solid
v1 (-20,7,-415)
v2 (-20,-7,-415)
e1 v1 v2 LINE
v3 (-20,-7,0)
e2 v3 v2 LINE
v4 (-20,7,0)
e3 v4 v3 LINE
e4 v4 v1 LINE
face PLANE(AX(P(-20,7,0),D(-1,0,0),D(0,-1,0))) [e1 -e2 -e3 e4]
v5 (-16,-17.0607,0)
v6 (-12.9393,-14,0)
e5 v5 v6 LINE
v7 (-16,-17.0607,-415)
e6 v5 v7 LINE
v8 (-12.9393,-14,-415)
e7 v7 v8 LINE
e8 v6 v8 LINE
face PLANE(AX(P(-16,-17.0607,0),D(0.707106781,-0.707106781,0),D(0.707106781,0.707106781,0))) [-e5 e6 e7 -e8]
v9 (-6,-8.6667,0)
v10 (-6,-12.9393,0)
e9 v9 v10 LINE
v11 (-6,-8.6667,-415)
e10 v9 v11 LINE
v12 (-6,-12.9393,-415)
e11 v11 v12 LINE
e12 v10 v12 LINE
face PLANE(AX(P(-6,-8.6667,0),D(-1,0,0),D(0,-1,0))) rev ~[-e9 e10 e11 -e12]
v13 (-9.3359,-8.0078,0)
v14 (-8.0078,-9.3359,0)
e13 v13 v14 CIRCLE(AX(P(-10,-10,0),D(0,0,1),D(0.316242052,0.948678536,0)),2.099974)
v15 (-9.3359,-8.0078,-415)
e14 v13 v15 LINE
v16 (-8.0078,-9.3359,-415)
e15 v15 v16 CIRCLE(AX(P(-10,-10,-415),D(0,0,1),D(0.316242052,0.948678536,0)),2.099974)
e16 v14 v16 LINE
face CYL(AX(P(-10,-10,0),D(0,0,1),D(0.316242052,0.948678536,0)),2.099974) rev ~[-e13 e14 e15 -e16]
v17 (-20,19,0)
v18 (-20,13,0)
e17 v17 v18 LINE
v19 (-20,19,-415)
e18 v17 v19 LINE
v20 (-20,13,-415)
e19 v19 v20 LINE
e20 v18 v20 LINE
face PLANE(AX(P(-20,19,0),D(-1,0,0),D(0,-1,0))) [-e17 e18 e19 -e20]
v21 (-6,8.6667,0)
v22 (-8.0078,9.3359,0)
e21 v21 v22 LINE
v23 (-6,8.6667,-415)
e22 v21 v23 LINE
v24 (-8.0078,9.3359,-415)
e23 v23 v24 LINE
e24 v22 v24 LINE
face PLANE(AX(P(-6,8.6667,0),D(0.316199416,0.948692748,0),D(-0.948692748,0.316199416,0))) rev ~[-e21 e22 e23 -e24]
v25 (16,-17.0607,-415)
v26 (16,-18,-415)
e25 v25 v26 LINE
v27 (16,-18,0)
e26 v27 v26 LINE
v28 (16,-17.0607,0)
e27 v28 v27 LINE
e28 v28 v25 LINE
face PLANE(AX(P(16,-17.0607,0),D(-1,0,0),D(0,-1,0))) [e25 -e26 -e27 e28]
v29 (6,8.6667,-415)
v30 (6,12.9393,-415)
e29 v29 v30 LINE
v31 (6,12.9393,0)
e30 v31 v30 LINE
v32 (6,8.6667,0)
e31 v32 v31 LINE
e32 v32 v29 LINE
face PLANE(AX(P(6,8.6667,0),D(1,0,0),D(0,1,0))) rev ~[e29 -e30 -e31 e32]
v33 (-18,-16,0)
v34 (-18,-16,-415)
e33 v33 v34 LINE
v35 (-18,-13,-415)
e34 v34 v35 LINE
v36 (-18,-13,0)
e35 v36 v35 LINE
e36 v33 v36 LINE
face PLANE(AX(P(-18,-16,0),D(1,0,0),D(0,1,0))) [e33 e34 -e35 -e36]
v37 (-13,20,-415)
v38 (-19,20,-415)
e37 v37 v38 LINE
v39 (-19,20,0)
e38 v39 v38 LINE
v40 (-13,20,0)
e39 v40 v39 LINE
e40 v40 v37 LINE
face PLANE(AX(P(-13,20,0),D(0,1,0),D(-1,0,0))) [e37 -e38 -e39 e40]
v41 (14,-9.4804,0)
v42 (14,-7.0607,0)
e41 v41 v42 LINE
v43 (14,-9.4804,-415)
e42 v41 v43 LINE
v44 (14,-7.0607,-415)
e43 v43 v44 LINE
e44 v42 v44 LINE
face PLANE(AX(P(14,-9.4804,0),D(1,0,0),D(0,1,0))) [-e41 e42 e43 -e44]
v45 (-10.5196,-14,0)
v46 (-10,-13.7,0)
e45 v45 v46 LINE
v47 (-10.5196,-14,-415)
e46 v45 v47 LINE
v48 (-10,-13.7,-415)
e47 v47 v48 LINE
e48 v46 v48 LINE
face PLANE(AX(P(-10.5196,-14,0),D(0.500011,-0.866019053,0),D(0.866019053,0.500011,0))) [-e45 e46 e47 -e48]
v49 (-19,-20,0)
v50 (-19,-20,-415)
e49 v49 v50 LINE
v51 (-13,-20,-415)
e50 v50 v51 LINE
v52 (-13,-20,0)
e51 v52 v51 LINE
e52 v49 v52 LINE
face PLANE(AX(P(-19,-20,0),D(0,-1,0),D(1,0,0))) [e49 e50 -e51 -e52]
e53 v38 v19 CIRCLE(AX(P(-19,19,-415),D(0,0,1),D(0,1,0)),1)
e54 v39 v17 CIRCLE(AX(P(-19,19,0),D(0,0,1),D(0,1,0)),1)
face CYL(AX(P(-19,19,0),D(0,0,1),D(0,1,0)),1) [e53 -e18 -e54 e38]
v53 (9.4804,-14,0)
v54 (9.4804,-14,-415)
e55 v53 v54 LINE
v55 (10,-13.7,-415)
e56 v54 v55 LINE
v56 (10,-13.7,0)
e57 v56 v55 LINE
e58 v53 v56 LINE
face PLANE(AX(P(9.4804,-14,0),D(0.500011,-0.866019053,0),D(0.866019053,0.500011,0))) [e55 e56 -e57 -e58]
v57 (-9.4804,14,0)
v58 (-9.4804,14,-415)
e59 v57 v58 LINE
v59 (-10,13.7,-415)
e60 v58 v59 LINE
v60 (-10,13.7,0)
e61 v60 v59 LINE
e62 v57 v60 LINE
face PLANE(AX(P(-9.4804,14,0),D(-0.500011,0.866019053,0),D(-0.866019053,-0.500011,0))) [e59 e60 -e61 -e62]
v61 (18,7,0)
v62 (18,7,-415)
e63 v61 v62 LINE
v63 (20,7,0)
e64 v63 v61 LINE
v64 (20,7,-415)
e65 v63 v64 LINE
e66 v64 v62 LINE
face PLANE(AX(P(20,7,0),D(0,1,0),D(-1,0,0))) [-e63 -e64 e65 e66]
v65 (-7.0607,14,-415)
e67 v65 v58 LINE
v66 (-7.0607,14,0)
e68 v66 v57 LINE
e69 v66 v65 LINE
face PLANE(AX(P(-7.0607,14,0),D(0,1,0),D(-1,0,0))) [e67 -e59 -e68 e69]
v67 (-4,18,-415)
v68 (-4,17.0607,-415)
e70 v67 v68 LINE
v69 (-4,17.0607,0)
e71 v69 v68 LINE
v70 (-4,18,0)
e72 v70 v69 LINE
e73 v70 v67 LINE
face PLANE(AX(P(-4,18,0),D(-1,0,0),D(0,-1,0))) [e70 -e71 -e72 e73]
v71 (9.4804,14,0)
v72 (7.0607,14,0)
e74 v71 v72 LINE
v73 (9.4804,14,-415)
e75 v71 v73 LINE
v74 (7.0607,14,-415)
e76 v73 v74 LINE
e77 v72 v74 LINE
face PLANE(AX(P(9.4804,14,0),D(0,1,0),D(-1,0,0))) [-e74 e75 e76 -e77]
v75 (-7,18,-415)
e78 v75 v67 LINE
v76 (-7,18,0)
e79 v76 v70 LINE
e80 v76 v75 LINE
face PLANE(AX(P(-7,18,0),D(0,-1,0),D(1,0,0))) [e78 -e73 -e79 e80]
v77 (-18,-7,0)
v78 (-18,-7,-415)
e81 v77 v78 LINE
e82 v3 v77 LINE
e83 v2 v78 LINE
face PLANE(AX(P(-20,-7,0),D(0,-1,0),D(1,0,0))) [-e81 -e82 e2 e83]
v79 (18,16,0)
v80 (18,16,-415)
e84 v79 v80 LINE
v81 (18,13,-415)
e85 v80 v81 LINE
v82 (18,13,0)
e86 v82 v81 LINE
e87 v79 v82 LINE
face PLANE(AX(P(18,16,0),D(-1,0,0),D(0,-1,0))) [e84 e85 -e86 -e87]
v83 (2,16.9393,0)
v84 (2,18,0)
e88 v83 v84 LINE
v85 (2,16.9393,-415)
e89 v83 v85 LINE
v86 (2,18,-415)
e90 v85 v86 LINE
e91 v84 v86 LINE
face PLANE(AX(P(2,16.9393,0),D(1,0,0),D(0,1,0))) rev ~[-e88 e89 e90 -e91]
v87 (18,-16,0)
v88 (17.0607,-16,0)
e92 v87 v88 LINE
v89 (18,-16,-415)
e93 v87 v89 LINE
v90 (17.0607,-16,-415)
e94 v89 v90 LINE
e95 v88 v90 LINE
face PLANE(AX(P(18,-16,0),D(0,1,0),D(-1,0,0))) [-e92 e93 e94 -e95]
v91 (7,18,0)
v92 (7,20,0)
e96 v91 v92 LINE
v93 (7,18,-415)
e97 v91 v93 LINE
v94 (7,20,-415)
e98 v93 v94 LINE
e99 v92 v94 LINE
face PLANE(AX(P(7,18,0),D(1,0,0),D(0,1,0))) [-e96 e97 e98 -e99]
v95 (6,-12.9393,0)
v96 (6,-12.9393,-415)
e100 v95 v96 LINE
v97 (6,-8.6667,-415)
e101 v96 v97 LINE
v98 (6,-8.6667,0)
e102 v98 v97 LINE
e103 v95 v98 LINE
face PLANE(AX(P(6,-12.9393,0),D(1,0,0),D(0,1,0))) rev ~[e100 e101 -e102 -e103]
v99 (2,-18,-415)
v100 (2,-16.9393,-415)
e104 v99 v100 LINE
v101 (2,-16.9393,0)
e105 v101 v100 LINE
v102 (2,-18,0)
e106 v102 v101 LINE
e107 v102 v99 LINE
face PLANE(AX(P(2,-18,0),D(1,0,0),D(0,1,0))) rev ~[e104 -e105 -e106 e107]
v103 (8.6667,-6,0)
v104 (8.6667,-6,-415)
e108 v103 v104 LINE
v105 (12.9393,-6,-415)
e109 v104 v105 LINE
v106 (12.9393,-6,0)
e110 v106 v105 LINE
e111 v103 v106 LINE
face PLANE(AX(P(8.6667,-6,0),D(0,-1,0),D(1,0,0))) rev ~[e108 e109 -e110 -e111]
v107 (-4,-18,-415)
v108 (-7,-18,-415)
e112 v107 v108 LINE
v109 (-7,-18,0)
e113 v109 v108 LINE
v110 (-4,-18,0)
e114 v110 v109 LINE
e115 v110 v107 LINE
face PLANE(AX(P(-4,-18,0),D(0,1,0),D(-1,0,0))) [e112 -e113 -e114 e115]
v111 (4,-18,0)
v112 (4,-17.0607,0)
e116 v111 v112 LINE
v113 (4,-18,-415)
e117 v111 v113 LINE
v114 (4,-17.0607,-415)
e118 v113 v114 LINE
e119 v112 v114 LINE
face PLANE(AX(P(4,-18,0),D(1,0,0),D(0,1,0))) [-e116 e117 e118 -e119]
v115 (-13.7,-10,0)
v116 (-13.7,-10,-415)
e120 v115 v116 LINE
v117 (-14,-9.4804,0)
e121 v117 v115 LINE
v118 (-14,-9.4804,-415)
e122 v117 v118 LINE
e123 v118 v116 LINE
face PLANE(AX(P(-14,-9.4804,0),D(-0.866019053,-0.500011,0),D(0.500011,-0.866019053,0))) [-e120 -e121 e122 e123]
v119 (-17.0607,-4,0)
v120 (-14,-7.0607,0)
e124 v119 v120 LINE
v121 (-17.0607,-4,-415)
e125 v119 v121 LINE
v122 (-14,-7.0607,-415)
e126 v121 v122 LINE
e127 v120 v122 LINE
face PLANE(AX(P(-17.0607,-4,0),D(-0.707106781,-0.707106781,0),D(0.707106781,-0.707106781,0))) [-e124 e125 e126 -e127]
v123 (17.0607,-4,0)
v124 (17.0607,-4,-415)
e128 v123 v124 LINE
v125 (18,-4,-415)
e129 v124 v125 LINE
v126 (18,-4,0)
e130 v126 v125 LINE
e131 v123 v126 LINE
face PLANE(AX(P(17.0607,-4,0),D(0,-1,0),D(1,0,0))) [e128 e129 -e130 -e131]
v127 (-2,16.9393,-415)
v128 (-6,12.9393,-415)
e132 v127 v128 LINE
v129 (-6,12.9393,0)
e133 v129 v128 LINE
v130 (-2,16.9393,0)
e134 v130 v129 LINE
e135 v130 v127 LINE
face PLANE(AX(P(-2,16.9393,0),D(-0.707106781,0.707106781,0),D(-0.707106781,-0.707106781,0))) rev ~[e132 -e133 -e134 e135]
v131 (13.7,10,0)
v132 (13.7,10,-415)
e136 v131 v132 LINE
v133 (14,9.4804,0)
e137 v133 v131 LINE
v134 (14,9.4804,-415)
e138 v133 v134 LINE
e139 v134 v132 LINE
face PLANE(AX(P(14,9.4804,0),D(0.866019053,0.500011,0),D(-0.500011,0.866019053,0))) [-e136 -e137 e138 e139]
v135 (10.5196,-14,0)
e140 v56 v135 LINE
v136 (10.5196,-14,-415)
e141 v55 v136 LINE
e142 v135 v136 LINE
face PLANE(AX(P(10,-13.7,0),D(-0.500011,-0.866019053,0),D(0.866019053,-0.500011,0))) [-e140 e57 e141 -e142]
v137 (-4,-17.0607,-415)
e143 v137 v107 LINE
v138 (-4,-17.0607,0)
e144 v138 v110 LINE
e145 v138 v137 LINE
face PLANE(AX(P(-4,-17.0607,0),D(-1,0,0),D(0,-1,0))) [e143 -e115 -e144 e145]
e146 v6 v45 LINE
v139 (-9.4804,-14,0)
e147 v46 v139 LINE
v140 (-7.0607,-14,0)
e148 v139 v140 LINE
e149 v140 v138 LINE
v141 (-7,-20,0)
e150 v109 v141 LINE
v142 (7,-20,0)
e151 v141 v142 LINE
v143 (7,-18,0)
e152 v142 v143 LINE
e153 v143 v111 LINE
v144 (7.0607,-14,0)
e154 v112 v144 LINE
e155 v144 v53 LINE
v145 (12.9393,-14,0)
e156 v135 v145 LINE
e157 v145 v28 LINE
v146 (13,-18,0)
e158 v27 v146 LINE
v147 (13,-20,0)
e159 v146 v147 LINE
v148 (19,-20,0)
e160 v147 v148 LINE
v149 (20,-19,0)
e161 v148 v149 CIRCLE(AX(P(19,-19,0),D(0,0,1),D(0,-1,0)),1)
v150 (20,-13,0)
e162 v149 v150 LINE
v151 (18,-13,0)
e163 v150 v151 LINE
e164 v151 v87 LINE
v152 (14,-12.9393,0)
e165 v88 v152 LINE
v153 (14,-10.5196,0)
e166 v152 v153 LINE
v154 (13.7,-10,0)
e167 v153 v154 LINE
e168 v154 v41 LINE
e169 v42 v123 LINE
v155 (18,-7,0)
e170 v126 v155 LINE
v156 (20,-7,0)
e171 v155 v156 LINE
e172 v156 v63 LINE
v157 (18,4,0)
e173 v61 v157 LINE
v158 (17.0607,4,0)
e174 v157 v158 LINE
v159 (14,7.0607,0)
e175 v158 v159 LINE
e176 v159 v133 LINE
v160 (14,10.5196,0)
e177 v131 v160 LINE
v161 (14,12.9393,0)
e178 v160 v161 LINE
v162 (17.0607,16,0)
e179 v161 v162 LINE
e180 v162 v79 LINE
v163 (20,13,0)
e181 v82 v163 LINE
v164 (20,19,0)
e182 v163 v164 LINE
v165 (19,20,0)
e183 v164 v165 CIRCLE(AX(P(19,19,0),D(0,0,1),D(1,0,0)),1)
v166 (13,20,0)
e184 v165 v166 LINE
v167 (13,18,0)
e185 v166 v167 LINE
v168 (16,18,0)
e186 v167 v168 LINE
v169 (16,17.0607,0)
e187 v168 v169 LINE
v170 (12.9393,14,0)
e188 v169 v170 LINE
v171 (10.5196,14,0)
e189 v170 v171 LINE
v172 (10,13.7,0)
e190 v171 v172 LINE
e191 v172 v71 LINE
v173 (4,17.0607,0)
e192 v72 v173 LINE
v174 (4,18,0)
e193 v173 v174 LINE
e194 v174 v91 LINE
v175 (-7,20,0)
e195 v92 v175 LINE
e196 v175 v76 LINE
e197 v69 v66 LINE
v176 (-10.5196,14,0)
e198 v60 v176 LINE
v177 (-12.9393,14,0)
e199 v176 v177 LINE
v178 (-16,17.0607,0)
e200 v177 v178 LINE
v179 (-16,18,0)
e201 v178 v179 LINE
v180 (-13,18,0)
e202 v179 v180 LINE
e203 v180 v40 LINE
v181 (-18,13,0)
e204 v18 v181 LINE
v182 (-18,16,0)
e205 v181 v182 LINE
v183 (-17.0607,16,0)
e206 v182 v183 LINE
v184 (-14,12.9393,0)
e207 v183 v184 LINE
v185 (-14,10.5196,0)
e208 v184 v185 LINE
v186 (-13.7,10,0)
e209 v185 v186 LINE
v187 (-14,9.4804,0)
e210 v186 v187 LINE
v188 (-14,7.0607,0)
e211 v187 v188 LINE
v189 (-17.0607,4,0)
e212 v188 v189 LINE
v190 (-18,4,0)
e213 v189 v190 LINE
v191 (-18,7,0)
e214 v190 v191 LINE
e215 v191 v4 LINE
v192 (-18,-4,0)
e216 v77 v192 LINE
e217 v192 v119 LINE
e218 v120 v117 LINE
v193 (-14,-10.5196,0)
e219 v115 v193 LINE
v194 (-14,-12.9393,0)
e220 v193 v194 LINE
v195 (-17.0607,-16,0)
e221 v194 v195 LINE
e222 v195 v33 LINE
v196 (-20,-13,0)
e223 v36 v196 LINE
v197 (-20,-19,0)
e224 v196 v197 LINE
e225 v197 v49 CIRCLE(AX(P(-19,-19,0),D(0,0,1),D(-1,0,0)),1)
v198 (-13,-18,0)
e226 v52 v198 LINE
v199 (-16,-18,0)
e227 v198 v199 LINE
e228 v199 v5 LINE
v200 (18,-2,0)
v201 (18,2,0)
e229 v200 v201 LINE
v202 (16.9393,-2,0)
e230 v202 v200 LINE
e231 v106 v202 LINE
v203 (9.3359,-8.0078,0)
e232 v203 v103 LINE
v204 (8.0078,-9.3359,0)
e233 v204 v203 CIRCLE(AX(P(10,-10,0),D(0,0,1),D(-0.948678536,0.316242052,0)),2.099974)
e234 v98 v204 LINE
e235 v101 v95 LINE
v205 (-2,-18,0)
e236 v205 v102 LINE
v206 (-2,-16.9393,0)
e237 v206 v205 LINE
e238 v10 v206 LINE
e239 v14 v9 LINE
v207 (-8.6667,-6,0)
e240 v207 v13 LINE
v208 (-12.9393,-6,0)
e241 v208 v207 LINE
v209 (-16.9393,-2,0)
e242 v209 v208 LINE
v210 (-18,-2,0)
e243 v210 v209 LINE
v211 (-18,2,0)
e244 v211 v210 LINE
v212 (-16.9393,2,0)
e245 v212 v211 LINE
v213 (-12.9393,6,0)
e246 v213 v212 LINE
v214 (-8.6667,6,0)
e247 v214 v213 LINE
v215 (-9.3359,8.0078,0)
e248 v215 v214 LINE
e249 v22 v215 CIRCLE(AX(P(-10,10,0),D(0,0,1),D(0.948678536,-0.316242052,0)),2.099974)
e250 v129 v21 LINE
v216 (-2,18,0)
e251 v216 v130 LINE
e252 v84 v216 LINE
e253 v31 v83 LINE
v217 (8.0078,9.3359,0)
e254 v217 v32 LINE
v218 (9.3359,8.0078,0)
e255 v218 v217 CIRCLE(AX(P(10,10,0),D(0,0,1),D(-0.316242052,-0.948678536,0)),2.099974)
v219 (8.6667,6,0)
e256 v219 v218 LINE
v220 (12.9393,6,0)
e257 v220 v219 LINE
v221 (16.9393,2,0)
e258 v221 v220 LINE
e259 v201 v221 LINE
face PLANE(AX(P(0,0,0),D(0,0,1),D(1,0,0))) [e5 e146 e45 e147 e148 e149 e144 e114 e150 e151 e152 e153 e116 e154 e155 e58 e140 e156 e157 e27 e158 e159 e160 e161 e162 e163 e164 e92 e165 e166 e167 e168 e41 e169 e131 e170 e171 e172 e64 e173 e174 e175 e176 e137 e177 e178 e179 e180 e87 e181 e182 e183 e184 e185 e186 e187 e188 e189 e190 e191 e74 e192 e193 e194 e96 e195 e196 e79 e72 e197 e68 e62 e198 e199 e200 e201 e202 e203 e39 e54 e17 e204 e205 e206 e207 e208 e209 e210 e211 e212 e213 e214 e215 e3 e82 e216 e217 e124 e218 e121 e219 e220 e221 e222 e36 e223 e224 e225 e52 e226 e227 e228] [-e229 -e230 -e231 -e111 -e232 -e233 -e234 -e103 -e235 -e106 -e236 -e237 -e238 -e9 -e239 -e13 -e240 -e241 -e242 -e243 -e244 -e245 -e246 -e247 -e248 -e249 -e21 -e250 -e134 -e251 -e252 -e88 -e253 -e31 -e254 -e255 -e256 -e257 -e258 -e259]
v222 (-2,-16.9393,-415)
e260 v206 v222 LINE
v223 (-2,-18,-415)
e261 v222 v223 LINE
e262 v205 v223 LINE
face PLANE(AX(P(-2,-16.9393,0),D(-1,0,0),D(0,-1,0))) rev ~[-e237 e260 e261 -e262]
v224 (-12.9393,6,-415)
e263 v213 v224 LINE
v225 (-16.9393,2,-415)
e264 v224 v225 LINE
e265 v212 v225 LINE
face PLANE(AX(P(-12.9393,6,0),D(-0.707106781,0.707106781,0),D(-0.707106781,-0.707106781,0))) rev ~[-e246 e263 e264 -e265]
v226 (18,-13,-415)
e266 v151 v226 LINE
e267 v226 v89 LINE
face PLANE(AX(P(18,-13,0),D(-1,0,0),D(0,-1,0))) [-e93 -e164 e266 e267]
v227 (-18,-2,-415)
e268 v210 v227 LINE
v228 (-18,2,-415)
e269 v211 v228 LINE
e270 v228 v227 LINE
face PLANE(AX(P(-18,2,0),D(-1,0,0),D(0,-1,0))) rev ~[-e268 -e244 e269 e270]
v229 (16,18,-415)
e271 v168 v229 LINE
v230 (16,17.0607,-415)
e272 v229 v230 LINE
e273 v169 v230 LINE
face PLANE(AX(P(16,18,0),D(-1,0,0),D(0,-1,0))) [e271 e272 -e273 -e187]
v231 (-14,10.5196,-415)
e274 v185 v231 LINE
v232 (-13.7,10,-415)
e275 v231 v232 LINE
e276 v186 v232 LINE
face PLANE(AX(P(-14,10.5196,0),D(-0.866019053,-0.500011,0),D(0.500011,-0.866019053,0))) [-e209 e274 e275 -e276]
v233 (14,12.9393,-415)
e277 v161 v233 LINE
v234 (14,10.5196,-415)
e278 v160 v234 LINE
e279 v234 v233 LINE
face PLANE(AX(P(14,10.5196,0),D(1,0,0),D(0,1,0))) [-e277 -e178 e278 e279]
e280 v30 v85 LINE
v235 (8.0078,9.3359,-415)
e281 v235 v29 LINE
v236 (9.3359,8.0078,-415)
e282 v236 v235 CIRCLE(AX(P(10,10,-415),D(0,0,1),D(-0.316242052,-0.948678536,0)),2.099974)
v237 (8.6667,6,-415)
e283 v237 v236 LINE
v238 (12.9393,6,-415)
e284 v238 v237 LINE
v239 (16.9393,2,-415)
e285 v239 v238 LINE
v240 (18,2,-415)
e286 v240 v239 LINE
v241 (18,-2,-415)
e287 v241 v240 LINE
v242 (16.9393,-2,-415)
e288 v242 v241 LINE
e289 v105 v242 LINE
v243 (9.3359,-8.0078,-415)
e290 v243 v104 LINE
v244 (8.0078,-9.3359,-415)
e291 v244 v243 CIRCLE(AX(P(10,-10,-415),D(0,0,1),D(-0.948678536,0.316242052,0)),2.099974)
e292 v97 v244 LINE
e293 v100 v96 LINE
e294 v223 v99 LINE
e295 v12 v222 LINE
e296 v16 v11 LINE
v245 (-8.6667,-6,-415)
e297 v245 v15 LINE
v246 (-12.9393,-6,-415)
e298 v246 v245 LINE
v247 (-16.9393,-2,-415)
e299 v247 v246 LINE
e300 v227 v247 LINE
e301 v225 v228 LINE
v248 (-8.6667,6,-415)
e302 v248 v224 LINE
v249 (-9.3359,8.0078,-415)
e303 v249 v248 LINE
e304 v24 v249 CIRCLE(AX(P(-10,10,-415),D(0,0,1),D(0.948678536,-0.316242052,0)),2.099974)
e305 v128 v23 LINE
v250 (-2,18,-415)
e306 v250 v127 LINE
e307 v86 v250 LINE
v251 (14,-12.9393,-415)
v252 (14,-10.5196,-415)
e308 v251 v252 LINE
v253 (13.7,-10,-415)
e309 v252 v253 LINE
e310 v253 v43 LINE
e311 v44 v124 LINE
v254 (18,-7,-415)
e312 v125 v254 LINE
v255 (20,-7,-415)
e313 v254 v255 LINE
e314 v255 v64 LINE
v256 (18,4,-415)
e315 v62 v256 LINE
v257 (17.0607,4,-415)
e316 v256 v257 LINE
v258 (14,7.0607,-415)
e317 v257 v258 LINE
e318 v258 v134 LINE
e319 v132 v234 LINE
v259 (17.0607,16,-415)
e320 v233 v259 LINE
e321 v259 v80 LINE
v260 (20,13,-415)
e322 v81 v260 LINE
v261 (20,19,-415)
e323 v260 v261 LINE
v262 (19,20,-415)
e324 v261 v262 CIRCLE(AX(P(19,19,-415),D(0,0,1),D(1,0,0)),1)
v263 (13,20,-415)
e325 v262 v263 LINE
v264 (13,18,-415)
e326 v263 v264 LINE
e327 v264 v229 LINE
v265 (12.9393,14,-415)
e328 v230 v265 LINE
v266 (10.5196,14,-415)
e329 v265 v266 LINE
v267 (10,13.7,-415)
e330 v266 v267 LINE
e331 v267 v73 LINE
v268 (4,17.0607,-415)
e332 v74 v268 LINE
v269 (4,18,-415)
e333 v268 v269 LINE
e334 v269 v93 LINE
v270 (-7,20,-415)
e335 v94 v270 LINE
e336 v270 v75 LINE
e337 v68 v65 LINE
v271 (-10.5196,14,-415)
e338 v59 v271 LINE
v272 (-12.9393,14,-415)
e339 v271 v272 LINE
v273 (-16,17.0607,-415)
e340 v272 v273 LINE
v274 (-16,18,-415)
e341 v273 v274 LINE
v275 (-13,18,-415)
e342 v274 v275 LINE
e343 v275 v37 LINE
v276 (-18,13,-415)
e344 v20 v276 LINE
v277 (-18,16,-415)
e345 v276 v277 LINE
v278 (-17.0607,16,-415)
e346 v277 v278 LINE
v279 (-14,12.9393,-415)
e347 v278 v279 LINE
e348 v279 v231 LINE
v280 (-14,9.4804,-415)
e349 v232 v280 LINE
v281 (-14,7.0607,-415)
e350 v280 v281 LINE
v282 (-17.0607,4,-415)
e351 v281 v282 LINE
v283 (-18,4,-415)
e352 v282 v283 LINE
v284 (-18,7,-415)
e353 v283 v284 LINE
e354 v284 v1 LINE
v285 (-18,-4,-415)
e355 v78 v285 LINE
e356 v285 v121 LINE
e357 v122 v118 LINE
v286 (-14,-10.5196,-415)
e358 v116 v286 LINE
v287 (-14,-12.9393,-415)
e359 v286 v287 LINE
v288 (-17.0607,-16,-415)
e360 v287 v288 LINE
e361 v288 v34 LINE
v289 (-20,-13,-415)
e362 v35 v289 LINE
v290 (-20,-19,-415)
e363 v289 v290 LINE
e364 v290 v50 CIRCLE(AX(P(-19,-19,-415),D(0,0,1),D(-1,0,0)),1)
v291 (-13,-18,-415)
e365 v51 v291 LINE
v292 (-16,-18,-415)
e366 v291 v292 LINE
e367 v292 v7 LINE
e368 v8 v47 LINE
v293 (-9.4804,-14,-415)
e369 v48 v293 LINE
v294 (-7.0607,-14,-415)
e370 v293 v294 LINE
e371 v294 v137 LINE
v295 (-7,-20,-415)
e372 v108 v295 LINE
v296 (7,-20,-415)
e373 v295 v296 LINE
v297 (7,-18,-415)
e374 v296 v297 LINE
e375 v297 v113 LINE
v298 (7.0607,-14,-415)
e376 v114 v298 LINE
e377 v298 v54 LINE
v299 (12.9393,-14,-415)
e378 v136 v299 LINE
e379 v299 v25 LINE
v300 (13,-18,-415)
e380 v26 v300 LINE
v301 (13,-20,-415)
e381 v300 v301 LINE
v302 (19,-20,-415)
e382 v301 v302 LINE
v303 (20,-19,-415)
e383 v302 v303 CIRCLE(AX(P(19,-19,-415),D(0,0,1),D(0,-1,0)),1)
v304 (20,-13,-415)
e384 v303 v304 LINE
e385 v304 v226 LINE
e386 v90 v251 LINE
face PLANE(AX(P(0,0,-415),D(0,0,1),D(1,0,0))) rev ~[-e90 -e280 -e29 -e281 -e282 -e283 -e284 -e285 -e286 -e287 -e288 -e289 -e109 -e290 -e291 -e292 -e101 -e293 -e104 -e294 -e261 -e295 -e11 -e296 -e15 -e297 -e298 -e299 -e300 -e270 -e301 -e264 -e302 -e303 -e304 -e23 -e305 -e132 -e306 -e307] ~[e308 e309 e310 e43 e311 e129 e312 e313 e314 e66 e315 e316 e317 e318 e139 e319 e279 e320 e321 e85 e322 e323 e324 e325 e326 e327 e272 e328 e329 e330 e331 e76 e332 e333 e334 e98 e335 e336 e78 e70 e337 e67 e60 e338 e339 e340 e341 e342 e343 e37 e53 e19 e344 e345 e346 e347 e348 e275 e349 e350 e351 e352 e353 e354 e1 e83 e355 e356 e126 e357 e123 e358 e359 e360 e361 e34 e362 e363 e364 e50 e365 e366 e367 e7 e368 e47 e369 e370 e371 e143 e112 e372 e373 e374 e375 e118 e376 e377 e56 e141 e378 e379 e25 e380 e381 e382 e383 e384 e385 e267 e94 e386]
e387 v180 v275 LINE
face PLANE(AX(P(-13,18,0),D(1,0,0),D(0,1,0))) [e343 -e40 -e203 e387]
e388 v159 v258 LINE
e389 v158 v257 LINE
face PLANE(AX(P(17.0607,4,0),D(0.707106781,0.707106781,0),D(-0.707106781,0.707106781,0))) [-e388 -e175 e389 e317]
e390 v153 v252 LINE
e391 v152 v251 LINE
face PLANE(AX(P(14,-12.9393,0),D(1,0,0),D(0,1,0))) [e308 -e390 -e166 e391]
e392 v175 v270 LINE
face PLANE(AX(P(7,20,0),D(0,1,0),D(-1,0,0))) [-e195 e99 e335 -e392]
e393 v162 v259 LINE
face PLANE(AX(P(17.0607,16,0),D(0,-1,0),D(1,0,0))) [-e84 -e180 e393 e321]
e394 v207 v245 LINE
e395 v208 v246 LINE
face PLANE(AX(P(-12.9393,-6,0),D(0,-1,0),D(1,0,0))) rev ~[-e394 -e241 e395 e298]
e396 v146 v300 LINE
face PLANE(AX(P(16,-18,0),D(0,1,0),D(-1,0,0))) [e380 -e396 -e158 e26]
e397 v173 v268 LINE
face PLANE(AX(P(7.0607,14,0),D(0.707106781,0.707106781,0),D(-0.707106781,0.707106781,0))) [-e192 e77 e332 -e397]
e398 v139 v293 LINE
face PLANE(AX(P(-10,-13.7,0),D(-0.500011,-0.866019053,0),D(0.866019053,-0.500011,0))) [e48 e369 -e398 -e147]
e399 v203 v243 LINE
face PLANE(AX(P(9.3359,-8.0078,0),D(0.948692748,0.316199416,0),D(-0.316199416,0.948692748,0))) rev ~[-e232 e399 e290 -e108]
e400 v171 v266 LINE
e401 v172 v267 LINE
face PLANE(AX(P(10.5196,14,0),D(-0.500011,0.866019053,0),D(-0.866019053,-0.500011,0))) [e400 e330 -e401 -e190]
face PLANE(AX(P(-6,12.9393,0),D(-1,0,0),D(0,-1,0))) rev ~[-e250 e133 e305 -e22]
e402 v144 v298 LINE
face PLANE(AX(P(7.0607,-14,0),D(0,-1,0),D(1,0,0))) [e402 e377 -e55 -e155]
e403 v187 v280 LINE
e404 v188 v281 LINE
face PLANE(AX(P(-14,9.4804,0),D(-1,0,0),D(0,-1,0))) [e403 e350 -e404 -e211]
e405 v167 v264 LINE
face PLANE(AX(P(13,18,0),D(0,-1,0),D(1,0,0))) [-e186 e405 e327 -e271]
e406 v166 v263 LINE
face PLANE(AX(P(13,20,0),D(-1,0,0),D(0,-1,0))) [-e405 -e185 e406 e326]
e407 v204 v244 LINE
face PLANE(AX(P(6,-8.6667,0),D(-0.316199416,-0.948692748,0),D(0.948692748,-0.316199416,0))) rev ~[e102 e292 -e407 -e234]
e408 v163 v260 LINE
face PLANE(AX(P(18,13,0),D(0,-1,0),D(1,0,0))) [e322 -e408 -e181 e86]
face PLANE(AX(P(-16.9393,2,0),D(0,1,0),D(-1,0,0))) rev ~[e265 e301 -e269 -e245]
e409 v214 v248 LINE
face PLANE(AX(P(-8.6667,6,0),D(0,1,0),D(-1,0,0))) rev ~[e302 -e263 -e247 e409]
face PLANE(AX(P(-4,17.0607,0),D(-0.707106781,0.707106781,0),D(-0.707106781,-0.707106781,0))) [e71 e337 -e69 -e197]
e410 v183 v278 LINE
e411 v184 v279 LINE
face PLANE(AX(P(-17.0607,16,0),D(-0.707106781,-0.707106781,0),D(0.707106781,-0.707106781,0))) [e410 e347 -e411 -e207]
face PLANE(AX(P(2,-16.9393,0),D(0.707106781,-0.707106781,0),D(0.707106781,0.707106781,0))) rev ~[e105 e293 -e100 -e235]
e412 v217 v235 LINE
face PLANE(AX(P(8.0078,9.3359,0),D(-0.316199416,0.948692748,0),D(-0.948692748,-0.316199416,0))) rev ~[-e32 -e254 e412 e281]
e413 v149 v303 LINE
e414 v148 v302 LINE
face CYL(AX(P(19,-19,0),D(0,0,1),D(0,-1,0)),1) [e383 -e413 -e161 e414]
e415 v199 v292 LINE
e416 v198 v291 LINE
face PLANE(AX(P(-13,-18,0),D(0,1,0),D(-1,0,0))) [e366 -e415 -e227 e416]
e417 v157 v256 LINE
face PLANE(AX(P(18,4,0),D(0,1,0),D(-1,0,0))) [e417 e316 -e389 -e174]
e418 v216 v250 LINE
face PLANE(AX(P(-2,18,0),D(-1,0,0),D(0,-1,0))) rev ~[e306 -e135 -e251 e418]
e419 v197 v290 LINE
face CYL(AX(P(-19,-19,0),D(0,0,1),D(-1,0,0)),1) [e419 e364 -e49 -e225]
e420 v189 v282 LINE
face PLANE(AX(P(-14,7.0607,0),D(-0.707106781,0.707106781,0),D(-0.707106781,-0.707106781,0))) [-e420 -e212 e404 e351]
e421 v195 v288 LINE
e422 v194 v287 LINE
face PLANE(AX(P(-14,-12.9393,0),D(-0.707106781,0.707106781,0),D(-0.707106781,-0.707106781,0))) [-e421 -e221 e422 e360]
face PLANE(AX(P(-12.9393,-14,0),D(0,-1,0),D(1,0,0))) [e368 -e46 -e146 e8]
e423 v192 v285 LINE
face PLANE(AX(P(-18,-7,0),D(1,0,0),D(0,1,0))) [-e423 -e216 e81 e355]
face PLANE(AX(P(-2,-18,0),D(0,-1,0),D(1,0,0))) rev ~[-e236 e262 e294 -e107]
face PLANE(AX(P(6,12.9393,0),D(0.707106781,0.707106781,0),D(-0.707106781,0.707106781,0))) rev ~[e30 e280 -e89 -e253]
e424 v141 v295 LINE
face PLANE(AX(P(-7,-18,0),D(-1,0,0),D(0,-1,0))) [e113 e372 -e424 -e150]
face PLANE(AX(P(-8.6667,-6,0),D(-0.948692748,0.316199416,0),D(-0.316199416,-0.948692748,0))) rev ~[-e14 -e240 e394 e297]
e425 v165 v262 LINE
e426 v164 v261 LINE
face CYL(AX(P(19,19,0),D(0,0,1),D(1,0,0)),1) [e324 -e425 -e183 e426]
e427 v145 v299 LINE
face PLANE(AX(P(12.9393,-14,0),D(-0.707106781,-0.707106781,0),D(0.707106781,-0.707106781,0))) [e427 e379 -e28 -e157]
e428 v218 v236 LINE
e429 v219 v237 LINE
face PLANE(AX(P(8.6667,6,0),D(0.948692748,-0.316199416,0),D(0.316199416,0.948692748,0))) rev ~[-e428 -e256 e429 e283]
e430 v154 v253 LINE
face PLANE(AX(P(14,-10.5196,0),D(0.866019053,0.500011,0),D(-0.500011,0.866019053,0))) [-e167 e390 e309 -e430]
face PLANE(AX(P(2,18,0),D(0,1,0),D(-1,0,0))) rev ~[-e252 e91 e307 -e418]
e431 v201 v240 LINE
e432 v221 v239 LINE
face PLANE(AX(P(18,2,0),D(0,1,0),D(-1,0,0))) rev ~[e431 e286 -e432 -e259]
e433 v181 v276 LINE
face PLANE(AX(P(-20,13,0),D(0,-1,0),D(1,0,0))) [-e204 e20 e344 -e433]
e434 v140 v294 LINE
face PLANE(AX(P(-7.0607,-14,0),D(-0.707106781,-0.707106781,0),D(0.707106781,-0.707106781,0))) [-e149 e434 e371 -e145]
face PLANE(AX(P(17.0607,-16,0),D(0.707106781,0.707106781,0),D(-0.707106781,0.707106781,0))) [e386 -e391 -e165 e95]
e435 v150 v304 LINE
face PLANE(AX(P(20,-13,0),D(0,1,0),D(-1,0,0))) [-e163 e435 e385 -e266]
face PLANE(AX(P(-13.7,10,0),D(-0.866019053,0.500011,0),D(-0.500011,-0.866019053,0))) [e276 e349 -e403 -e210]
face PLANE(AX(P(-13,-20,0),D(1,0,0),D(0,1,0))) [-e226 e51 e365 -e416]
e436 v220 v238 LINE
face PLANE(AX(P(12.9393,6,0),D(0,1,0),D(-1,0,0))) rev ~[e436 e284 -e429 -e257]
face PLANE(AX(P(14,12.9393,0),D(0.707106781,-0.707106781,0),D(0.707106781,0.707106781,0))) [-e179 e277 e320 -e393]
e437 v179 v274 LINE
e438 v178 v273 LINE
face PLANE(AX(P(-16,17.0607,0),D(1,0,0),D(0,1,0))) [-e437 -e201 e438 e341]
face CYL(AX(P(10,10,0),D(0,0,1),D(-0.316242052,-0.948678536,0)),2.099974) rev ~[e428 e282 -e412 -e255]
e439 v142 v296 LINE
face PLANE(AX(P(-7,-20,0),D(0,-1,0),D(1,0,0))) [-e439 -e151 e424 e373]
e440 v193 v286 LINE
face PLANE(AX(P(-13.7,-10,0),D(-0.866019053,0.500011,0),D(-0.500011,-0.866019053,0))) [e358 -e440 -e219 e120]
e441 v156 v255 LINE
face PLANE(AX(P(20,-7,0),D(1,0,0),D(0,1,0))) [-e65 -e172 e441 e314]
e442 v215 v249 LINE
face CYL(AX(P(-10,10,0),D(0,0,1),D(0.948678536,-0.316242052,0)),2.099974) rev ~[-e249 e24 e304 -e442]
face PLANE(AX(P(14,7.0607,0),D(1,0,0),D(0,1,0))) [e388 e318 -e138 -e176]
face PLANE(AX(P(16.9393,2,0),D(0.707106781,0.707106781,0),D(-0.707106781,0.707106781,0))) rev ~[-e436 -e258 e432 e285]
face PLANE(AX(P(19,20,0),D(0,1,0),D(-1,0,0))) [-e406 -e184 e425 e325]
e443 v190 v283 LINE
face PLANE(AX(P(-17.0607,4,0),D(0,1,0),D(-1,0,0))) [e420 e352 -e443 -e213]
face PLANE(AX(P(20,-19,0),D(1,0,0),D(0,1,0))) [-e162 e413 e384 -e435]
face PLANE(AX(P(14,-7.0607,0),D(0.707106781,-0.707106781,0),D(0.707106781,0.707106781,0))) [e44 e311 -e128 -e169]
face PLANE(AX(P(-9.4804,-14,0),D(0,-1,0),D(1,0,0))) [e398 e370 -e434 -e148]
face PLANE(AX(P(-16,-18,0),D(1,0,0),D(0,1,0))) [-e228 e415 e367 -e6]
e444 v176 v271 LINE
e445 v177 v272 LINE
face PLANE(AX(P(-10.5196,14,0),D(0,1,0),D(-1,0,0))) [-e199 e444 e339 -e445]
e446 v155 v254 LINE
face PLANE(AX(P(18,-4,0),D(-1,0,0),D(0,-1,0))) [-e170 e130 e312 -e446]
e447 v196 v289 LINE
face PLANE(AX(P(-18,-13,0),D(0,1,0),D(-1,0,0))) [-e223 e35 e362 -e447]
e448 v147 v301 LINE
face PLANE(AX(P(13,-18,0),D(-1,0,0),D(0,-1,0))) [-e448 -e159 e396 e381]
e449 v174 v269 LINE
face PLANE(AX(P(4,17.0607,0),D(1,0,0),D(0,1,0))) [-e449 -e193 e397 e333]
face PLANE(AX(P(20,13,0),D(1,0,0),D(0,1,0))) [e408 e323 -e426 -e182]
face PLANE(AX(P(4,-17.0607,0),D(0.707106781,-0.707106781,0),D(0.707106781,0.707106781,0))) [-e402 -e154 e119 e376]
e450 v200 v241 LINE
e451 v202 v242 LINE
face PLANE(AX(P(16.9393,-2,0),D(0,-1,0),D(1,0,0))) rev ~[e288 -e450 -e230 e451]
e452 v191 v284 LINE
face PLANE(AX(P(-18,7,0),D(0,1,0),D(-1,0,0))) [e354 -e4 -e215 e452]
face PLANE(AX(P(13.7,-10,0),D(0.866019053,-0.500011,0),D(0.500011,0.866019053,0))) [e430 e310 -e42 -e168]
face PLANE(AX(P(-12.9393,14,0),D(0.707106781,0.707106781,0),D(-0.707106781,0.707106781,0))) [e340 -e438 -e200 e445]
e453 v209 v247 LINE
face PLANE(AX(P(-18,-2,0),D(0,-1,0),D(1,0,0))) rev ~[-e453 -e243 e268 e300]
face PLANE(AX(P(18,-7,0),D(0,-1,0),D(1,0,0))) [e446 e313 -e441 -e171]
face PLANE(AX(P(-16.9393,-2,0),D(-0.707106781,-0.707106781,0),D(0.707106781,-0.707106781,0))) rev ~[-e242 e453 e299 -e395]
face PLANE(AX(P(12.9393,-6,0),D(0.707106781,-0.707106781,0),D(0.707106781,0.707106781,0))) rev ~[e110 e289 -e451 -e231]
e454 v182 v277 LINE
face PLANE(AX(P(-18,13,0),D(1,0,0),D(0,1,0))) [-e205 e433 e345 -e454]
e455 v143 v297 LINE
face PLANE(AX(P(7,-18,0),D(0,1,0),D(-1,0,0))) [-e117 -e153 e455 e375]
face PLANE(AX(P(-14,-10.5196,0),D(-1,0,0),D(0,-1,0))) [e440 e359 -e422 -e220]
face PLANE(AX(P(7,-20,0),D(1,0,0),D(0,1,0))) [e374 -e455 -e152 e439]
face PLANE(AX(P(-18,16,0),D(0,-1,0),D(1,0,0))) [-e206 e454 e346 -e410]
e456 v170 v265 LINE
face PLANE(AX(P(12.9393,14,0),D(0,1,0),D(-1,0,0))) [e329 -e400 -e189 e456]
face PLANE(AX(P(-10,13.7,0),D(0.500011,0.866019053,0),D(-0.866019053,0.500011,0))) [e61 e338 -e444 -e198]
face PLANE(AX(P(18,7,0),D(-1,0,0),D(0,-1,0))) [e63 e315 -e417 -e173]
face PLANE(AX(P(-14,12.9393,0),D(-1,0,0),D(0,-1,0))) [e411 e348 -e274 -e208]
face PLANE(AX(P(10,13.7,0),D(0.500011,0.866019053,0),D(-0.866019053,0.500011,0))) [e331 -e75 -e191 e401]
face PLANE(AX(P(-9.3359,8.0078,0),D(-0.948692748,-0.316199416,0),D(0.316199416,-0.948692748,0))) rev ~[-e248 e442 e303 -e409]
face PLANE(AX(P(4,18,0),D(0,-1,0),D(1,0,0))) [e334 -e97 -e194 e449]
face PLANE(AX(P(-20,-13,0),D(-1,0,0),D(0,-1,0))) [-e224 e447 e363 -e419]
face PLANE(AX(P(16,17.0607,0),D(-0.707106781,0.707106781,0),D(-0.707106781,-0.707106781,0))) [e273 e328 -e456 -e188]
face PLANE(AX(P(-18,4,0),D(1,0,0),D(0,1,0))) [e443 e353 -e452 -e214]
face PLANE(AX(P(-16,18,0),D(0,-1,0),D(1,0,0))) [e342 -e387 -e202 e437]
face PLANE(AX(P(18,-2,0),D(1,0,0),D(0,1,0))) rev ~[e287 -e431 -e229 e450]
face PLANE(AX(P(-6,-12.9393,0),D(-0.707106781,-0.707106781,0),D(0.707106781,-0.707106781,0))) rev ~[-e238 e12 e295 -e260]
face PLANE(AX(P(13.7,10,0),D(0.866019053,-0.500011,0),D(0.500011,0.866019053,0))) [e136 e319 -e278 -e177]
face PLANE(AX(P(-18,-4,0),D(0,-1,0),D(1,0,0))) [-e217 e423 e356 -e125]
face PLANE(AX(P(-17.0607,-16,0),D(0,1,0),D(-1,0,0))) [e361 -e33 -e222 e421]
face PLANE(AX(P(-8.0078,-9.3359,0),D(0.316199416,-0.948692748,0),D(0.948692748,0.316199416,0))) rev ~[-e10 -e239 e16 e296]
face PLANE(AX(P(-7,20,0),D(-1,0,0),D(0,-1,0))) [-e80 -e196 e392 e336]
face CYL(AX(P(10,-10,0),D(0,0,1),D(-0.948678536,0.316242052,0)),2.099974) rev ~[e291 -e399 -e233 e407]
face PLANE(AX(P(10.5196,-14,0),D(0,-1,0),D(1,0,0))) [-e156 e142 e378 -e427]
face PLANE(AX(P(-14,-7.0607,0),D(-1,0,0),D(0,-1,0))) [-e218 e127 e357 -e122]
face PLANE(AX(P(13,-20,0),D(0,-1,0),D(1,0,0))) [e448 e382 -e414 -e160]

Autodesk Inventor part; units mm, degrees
sketch "Sketch_1" plane through (0, 0, 0) normal (0, 0, 1) x (1, 0, 0)
  line L0 (-20, -7) -> (-18, -7)
  line L1 (-18, -7) -> (-18, -4)
  line L2 (-18, -4) -> (-17.0607, -4)
  line L3 (-17.0607, -4) -> (-14, -7.0607)
  line L4 (-14, -7.0607) -> (-14, -9.4804)
  line L5 (-14, -9.4804) -> (-13.7, -10)
  line L6 (-13.7, -10) -> (-14, -10.5196)
  line L7 (-14, -10.5196) -> (-14, -12.9393)
  line L8 (-14, -12.9393) -> (-17.0607, -16)
  line L9 (-17.0607, -16) -> (-18, -16)
  line L10 (-18, -16) -> (-18, -13)
  line L11 (-18, -13) -> (-20, -13)
  line L12 (-20, -13) -> (-20, -19)
  arc A0 (-20, -19) -> (-19, -20) centre (-19, -19) ccw
  line L13 (-19, -20) -> (-13, -20)
  line L14 (-13, -20) -> (-13, -18)
  line L15 (-13, -18) -> (-16, -18)
  line L16 (-16, -18) -> (-16, -17.0607)
  line L17 (-16, -17.0607) -> (-12.9393, -14)
  line L18 (-12.9393, -14) -> (-10.5196, -14)
  line L19 (-10.5196, -14) -> (-10, -13.7)
  line L20 (-10, -13.7) -> (-9.4804, -14)
  line L21 (-9.4804, -14) -> (-7.0607, -14)
  line L22 (-7.0607, -14) -> (-4, -17.0607)
  line L23 (-4, -17.0607) -> (-4, -18)
  line L24 (-4, -18) -> (-7, -18)
  line L25 (-7, -18) -> (-7, -20)
  line L26 (-7, -20) -> (7, -20)
  line L27 (7, -20) -> (7, -18)
  line L28 (7, -18) -> (4, -18)
  line L29 (4, -18) -> (4, -17.0607)
  line L30 (4, -17.0607) -> (7.0607, -14)
  line L31 (7.0607, -14) -> (9.4804, -14)
  line L32 (9.4804, -14) -> (10, -13.7)
  line L33 (10, -13.7) -> (10.5196, -14)
  line L34 (10.5196, -14) -> (12.9393, -14)
  line L35 (12.9393, -14) -> (16, -17.0607)
  line L36 (16, -17.0607) -> (16, -18)
  line L37 (16, -18) -> (13, -18)
  line L38 (13, -18) -> (13, -20)
  line L39 (13, -20) -> (19, -20)
  arc A1 (19, -20) -> (20, -19) centre (19, -19) ccw
  line L40 (20, -19) -> (20, -13)
  line L41 (20, -13) -> (18, -13)
  line L42 (18, -13) -> (18, -16)
  line L43 (18, -16) -> (17.0607, -16)
  line L44 (17.0607, -16) -> (14, -12.9393)
  line L45 (14, -12.9393) -> (14, -10.5196)
  line L46 (14, -10.5196) -> (13.7, -10)
  line L47 (13.7, -10) -> (14, -9.4804)
  line L48 (14, -9.4804) -> (14, -7.0607)
  line L49 (14, -7.0607) -> (17.0607, -4)
  line L50 (17.0607, -4) -> (18, -4)
  line L51 (18, -4) -> (18, -7)
  line L52 (18, -7) -> (20, -7)
  line L53 (20, -7) -> (20, 7)
  line L54 (20, 7) -> (18, 7)
  line L55 (18, 7) -> (18, 4)
  line L56 (18, 4) -> (17.0607, 4)
  line L57 (17.0607, 4) -> (14, 7.0607)
  line L58 (14, 7.0607) -> (14, 9.4804)
  line L59 (14, 9.4804) -> (13.7, 10)
  line L60 (13.7, 10) -> (14, 10.5196)
  line L61 (14, 10.5196) -> (14, 12.9393)
  line L62 (14, 12.9393) -> (17.0607, 16)
  line L63 (17.0607, 16) -> (18, 16)
  line L64 (18, 16) -> (18, 13)
  line L65 (18, 13) -> (20, 13)
  line L66 (20, 13) -> (20, 19)
  arc A2 (20, 19) -> (19, 20) centre (19, 19) ccw
  line L67 (19, 20) -> (13, 20)
  line L68 (13, 20) -> (13, 18)
  line L69 (13, 18) -> (16, 18)
  line L70 (16, 18) -> (16, 17.0607)
  line L71 (16, 17.0607) -> (12.9393, 14)
  line L72 (12.9393, 14) -> (10.5196, 14)
  line L73 (10.5196, 14) -> (10, 13.7)
  line L74 (10, 13.7) -> (9.4804, 14)
  line L75 (9.4804, 14) -> (7.0607, 14)
  line L76 (7.0607, 14) -> (4, 17.0607)
  line L77 (4, 17.0607) -> (4, 18)
  line L78 (4, 18) -> (7, 18)
  line L79 (7, 18) -> (7, 20)
  line L80 (7, 20) -> (-7, 20)
  line L81 (-7, 20) -> (-7, 18)
  line L82 (-7, 18) -> (-4, 18)
  line L83 (-4, 18) -> (-4, 17.0607)
  line L84 (-4, 17.0607) -> (-7.0607, 14)
  line L85 (-7.0607, 14) -> (-9.4804, 14)
  line L86 (-9.4804, 14) -> (-10, 13.7)
  line L87 (-10, 13.7) -> (-10.5196, 14)
  line L88 (-10.5196, 14) -> (-12.9393, 14)
  line L89 (-12.9393, 14) -> (-16, 17.0607)
  line L90 (-16, 17.0607) -> (-16, 18)
  line L91 (-16, 18) -> (-13, 18)
  line L92 (-13, 18) -> (-13, 20)
  line L93 (-13, 20) -> (-19, 20)
  arc A3 (-19, 20) -> (-20, 19) centre (-19, 19) ccw
  line L94 (-20, 19) -> (-20, 13)
  line L95 (-20, 13) -> (-18, 13)
  line L96 (-18, 13) -> (-18, 16)
  line L97 (-18, 16) -> (-17.0607, 16)
  line L98 (-17.0607, 16) -> (-14, 12.9393)
  line L99 (-14, 12.9393) -> (-14, 10.5196)
  line L100 (-14, 10.5196) -> (-13.7, 10)
  line L101 (-13.7, 10) -> (-14, 9.4804)
  line L102 (-14, 9.4804) -> (-14, 7.0607)
  line L103 (-14, 7.0607) -> (-17.0607, 4)
  line L104 (-17.0607, 4) -> (-18, 4)
  line L105 (-18, 4) -> (-18, 7)
  line L106 (-18, 7) -> (-20, 7)
  line L107 (-20, 7) -> (-20, -7)
extrude "Extrusion1" add sketch "Sketch_1" against normal blind 415
sketch "Sketch_130" plane through (0, 0, 0) normal (0, 0, 1) x (1, 0, 0)
  line L0 (-18, 2) -> (-18, -2)
  line L1 (-18, -2) -> (-16.9393, -2)
  line L2 (-16.9393, -2) -> (-12.9393, -6)
  line L3 (-12.9393, -6) -> (-8.6667, -6)
  line L4 (-8.6667, -6) -> (-9.3359, -8.0078)
  arc A0 (-9.3359, -8.0078) -> (-8.0078, -9.3359) centre (-10, -10) ccw
  line L5 (-8.0078, -9.3359) -> (-6, -8.6667)
  line L6 (-6, -8.6667) -> (-6, -12.9393)
  line L7 (-6, -12.9393) -> (-2, -16.9393)
  line L8 (-2, -16.9393) -> (-2, -18)
  line L9 (-2, -18) -> (2, -18)
  line L10 (2, -18) -> (2, -16.9393)
  line L11 (2, -16.9393) -> (6, -12.9393)
  line L12 (6, -12.9393) -> (6, -8.6667)
  line L13 (6, -8.6667) -> (8.0078, -9.3359)
  arc A1 (8.0078, -9.3359) -> (9.3359, -8.0078) centre (10, -10) ccw
  line L14 (9.3359, -8.0078) -> (8.6667, -6)
  line L15 (8.6667, -6) -> (12.9393, -6)
  line L16 (12.9393, -6) -> (16.9393, -2)
  line L17 (16.9393, -2) -> (18, -2)
  line L18 (18, -2) -> (18, 2)
  line L19 (18, 2) -> (16.9393, 2)
  line L20 (16.9393, 2) -> (12.9393, 6)
  line L21 (12.9393, 6) -> (8.6667, 6)
  line L22 (8.6667, 6) -> (9.3359, 8.0078)
  arc A2 (9.3359, 8.0078) -> (8.0078, 9.3359) centre (10, 10) ccw
  line L23 (8.0078, 9.3359) -> (6, 8.6667)
  line L24 (6, 8.6667) -> (6, 12.9393)
  line L25 (6, 12.9393) -> (2, 16.9393)
  line L26 (2, 16.9393) -> (2, 18)
  line L27 (2, 18) -> (-2, 18)
  line L28 (-2, 18) -> (-2, 16.9393)
  line L29 (-2, 16.9393) -> (-6, 12.9393)
  line L30 (-6, 12.9393) -> (-6, 8.6667)
  line L31 (-6, 8.6667) -> (-8.0078, 9.3359)
  arc A3 (-8.0078, 9.3359) -> (-9.3359, 8.0078) centre (-10, 10) ccw
  line L32 (-9.3359, 8.0078) -> (-8.6667, 6)
  line L33 (-8.6667, 6) -> (-12.9393, 6)
  line L34 (-12.9393, 6) -> (-16.9393, 2)
  line L35 (-16.9393, 2) -> (-18, 2)
extrude "Extrusion2" cut sketch "Sketch_130" against normal blind 415
ref_plane "C1_XY" through (0, 0, 0) normal (0, 0, 1) x (1, 0, 0)
ref_plane "C1_YZ" through (0, 0, 0) normal (1, 0, 0) x (0, 1, 0)
ref_plane "C1_ZX" through (0, 0, 0) normal (0, 1, 0) x (0, 0, 1)
ref_plane "to_frame_cap1_XY" through (0, 0, 0) normal (0, 0, 1) x (1, 0, 0)
ref_plane "to_frame_cap1_YZ" through (0, 0, 0) normal (1, 0, 0) x (0, 1, 0)
ref_plane "to_frame_cap1_ZX" through (0, 0, 0) normal (0, 1, 0) x (0, 0, 1)
ref_plane "to_frame_cap2_XY" through (0, 0, -415) normal (0, 0, -1) x (1, 0, 0)
ref_plane "to_frame_cap2_YZ" through (0, 0, -415) normal (1, 0, 0) x (0, -1, 0)
ref_plane "to_frame_cap2_ZX" through (0, 0, -415) normal (0, -1, 0) x (0, 0, -1)
thread "Thread1" size "M5x0.8" class "6H" standard "ANSI Metric M Profile" length 10
thread "Thread2" size "M5x0.8" class "6H" standard "ANSI Metric M Profile" length 10
thread "Thread3" size "M5x0.8" class "6H" standard "ANSI Metric M Profile" length 10
thread "Thread4" size "M5x0.8" class "6H" standard "ANSI Metric M Profile" length 10
thread "Thread5" size "M5x0.8" class "6H" standard "ANSI Metric M Profile" length 10
thread "Thread6" size "M5x0.8" class "6H" standard "ANSI Metric M Profile" length 10
thread "Thread7" size "M5x0.8" class "6H" standard "ANSI Metric M Profile" length 10
thread "Thread8" size "M5x0.8" class "6H" standard "ANSI Metric M Profile" length 10
properties part number "Left Base Beam" material "Aluminum 6061"
